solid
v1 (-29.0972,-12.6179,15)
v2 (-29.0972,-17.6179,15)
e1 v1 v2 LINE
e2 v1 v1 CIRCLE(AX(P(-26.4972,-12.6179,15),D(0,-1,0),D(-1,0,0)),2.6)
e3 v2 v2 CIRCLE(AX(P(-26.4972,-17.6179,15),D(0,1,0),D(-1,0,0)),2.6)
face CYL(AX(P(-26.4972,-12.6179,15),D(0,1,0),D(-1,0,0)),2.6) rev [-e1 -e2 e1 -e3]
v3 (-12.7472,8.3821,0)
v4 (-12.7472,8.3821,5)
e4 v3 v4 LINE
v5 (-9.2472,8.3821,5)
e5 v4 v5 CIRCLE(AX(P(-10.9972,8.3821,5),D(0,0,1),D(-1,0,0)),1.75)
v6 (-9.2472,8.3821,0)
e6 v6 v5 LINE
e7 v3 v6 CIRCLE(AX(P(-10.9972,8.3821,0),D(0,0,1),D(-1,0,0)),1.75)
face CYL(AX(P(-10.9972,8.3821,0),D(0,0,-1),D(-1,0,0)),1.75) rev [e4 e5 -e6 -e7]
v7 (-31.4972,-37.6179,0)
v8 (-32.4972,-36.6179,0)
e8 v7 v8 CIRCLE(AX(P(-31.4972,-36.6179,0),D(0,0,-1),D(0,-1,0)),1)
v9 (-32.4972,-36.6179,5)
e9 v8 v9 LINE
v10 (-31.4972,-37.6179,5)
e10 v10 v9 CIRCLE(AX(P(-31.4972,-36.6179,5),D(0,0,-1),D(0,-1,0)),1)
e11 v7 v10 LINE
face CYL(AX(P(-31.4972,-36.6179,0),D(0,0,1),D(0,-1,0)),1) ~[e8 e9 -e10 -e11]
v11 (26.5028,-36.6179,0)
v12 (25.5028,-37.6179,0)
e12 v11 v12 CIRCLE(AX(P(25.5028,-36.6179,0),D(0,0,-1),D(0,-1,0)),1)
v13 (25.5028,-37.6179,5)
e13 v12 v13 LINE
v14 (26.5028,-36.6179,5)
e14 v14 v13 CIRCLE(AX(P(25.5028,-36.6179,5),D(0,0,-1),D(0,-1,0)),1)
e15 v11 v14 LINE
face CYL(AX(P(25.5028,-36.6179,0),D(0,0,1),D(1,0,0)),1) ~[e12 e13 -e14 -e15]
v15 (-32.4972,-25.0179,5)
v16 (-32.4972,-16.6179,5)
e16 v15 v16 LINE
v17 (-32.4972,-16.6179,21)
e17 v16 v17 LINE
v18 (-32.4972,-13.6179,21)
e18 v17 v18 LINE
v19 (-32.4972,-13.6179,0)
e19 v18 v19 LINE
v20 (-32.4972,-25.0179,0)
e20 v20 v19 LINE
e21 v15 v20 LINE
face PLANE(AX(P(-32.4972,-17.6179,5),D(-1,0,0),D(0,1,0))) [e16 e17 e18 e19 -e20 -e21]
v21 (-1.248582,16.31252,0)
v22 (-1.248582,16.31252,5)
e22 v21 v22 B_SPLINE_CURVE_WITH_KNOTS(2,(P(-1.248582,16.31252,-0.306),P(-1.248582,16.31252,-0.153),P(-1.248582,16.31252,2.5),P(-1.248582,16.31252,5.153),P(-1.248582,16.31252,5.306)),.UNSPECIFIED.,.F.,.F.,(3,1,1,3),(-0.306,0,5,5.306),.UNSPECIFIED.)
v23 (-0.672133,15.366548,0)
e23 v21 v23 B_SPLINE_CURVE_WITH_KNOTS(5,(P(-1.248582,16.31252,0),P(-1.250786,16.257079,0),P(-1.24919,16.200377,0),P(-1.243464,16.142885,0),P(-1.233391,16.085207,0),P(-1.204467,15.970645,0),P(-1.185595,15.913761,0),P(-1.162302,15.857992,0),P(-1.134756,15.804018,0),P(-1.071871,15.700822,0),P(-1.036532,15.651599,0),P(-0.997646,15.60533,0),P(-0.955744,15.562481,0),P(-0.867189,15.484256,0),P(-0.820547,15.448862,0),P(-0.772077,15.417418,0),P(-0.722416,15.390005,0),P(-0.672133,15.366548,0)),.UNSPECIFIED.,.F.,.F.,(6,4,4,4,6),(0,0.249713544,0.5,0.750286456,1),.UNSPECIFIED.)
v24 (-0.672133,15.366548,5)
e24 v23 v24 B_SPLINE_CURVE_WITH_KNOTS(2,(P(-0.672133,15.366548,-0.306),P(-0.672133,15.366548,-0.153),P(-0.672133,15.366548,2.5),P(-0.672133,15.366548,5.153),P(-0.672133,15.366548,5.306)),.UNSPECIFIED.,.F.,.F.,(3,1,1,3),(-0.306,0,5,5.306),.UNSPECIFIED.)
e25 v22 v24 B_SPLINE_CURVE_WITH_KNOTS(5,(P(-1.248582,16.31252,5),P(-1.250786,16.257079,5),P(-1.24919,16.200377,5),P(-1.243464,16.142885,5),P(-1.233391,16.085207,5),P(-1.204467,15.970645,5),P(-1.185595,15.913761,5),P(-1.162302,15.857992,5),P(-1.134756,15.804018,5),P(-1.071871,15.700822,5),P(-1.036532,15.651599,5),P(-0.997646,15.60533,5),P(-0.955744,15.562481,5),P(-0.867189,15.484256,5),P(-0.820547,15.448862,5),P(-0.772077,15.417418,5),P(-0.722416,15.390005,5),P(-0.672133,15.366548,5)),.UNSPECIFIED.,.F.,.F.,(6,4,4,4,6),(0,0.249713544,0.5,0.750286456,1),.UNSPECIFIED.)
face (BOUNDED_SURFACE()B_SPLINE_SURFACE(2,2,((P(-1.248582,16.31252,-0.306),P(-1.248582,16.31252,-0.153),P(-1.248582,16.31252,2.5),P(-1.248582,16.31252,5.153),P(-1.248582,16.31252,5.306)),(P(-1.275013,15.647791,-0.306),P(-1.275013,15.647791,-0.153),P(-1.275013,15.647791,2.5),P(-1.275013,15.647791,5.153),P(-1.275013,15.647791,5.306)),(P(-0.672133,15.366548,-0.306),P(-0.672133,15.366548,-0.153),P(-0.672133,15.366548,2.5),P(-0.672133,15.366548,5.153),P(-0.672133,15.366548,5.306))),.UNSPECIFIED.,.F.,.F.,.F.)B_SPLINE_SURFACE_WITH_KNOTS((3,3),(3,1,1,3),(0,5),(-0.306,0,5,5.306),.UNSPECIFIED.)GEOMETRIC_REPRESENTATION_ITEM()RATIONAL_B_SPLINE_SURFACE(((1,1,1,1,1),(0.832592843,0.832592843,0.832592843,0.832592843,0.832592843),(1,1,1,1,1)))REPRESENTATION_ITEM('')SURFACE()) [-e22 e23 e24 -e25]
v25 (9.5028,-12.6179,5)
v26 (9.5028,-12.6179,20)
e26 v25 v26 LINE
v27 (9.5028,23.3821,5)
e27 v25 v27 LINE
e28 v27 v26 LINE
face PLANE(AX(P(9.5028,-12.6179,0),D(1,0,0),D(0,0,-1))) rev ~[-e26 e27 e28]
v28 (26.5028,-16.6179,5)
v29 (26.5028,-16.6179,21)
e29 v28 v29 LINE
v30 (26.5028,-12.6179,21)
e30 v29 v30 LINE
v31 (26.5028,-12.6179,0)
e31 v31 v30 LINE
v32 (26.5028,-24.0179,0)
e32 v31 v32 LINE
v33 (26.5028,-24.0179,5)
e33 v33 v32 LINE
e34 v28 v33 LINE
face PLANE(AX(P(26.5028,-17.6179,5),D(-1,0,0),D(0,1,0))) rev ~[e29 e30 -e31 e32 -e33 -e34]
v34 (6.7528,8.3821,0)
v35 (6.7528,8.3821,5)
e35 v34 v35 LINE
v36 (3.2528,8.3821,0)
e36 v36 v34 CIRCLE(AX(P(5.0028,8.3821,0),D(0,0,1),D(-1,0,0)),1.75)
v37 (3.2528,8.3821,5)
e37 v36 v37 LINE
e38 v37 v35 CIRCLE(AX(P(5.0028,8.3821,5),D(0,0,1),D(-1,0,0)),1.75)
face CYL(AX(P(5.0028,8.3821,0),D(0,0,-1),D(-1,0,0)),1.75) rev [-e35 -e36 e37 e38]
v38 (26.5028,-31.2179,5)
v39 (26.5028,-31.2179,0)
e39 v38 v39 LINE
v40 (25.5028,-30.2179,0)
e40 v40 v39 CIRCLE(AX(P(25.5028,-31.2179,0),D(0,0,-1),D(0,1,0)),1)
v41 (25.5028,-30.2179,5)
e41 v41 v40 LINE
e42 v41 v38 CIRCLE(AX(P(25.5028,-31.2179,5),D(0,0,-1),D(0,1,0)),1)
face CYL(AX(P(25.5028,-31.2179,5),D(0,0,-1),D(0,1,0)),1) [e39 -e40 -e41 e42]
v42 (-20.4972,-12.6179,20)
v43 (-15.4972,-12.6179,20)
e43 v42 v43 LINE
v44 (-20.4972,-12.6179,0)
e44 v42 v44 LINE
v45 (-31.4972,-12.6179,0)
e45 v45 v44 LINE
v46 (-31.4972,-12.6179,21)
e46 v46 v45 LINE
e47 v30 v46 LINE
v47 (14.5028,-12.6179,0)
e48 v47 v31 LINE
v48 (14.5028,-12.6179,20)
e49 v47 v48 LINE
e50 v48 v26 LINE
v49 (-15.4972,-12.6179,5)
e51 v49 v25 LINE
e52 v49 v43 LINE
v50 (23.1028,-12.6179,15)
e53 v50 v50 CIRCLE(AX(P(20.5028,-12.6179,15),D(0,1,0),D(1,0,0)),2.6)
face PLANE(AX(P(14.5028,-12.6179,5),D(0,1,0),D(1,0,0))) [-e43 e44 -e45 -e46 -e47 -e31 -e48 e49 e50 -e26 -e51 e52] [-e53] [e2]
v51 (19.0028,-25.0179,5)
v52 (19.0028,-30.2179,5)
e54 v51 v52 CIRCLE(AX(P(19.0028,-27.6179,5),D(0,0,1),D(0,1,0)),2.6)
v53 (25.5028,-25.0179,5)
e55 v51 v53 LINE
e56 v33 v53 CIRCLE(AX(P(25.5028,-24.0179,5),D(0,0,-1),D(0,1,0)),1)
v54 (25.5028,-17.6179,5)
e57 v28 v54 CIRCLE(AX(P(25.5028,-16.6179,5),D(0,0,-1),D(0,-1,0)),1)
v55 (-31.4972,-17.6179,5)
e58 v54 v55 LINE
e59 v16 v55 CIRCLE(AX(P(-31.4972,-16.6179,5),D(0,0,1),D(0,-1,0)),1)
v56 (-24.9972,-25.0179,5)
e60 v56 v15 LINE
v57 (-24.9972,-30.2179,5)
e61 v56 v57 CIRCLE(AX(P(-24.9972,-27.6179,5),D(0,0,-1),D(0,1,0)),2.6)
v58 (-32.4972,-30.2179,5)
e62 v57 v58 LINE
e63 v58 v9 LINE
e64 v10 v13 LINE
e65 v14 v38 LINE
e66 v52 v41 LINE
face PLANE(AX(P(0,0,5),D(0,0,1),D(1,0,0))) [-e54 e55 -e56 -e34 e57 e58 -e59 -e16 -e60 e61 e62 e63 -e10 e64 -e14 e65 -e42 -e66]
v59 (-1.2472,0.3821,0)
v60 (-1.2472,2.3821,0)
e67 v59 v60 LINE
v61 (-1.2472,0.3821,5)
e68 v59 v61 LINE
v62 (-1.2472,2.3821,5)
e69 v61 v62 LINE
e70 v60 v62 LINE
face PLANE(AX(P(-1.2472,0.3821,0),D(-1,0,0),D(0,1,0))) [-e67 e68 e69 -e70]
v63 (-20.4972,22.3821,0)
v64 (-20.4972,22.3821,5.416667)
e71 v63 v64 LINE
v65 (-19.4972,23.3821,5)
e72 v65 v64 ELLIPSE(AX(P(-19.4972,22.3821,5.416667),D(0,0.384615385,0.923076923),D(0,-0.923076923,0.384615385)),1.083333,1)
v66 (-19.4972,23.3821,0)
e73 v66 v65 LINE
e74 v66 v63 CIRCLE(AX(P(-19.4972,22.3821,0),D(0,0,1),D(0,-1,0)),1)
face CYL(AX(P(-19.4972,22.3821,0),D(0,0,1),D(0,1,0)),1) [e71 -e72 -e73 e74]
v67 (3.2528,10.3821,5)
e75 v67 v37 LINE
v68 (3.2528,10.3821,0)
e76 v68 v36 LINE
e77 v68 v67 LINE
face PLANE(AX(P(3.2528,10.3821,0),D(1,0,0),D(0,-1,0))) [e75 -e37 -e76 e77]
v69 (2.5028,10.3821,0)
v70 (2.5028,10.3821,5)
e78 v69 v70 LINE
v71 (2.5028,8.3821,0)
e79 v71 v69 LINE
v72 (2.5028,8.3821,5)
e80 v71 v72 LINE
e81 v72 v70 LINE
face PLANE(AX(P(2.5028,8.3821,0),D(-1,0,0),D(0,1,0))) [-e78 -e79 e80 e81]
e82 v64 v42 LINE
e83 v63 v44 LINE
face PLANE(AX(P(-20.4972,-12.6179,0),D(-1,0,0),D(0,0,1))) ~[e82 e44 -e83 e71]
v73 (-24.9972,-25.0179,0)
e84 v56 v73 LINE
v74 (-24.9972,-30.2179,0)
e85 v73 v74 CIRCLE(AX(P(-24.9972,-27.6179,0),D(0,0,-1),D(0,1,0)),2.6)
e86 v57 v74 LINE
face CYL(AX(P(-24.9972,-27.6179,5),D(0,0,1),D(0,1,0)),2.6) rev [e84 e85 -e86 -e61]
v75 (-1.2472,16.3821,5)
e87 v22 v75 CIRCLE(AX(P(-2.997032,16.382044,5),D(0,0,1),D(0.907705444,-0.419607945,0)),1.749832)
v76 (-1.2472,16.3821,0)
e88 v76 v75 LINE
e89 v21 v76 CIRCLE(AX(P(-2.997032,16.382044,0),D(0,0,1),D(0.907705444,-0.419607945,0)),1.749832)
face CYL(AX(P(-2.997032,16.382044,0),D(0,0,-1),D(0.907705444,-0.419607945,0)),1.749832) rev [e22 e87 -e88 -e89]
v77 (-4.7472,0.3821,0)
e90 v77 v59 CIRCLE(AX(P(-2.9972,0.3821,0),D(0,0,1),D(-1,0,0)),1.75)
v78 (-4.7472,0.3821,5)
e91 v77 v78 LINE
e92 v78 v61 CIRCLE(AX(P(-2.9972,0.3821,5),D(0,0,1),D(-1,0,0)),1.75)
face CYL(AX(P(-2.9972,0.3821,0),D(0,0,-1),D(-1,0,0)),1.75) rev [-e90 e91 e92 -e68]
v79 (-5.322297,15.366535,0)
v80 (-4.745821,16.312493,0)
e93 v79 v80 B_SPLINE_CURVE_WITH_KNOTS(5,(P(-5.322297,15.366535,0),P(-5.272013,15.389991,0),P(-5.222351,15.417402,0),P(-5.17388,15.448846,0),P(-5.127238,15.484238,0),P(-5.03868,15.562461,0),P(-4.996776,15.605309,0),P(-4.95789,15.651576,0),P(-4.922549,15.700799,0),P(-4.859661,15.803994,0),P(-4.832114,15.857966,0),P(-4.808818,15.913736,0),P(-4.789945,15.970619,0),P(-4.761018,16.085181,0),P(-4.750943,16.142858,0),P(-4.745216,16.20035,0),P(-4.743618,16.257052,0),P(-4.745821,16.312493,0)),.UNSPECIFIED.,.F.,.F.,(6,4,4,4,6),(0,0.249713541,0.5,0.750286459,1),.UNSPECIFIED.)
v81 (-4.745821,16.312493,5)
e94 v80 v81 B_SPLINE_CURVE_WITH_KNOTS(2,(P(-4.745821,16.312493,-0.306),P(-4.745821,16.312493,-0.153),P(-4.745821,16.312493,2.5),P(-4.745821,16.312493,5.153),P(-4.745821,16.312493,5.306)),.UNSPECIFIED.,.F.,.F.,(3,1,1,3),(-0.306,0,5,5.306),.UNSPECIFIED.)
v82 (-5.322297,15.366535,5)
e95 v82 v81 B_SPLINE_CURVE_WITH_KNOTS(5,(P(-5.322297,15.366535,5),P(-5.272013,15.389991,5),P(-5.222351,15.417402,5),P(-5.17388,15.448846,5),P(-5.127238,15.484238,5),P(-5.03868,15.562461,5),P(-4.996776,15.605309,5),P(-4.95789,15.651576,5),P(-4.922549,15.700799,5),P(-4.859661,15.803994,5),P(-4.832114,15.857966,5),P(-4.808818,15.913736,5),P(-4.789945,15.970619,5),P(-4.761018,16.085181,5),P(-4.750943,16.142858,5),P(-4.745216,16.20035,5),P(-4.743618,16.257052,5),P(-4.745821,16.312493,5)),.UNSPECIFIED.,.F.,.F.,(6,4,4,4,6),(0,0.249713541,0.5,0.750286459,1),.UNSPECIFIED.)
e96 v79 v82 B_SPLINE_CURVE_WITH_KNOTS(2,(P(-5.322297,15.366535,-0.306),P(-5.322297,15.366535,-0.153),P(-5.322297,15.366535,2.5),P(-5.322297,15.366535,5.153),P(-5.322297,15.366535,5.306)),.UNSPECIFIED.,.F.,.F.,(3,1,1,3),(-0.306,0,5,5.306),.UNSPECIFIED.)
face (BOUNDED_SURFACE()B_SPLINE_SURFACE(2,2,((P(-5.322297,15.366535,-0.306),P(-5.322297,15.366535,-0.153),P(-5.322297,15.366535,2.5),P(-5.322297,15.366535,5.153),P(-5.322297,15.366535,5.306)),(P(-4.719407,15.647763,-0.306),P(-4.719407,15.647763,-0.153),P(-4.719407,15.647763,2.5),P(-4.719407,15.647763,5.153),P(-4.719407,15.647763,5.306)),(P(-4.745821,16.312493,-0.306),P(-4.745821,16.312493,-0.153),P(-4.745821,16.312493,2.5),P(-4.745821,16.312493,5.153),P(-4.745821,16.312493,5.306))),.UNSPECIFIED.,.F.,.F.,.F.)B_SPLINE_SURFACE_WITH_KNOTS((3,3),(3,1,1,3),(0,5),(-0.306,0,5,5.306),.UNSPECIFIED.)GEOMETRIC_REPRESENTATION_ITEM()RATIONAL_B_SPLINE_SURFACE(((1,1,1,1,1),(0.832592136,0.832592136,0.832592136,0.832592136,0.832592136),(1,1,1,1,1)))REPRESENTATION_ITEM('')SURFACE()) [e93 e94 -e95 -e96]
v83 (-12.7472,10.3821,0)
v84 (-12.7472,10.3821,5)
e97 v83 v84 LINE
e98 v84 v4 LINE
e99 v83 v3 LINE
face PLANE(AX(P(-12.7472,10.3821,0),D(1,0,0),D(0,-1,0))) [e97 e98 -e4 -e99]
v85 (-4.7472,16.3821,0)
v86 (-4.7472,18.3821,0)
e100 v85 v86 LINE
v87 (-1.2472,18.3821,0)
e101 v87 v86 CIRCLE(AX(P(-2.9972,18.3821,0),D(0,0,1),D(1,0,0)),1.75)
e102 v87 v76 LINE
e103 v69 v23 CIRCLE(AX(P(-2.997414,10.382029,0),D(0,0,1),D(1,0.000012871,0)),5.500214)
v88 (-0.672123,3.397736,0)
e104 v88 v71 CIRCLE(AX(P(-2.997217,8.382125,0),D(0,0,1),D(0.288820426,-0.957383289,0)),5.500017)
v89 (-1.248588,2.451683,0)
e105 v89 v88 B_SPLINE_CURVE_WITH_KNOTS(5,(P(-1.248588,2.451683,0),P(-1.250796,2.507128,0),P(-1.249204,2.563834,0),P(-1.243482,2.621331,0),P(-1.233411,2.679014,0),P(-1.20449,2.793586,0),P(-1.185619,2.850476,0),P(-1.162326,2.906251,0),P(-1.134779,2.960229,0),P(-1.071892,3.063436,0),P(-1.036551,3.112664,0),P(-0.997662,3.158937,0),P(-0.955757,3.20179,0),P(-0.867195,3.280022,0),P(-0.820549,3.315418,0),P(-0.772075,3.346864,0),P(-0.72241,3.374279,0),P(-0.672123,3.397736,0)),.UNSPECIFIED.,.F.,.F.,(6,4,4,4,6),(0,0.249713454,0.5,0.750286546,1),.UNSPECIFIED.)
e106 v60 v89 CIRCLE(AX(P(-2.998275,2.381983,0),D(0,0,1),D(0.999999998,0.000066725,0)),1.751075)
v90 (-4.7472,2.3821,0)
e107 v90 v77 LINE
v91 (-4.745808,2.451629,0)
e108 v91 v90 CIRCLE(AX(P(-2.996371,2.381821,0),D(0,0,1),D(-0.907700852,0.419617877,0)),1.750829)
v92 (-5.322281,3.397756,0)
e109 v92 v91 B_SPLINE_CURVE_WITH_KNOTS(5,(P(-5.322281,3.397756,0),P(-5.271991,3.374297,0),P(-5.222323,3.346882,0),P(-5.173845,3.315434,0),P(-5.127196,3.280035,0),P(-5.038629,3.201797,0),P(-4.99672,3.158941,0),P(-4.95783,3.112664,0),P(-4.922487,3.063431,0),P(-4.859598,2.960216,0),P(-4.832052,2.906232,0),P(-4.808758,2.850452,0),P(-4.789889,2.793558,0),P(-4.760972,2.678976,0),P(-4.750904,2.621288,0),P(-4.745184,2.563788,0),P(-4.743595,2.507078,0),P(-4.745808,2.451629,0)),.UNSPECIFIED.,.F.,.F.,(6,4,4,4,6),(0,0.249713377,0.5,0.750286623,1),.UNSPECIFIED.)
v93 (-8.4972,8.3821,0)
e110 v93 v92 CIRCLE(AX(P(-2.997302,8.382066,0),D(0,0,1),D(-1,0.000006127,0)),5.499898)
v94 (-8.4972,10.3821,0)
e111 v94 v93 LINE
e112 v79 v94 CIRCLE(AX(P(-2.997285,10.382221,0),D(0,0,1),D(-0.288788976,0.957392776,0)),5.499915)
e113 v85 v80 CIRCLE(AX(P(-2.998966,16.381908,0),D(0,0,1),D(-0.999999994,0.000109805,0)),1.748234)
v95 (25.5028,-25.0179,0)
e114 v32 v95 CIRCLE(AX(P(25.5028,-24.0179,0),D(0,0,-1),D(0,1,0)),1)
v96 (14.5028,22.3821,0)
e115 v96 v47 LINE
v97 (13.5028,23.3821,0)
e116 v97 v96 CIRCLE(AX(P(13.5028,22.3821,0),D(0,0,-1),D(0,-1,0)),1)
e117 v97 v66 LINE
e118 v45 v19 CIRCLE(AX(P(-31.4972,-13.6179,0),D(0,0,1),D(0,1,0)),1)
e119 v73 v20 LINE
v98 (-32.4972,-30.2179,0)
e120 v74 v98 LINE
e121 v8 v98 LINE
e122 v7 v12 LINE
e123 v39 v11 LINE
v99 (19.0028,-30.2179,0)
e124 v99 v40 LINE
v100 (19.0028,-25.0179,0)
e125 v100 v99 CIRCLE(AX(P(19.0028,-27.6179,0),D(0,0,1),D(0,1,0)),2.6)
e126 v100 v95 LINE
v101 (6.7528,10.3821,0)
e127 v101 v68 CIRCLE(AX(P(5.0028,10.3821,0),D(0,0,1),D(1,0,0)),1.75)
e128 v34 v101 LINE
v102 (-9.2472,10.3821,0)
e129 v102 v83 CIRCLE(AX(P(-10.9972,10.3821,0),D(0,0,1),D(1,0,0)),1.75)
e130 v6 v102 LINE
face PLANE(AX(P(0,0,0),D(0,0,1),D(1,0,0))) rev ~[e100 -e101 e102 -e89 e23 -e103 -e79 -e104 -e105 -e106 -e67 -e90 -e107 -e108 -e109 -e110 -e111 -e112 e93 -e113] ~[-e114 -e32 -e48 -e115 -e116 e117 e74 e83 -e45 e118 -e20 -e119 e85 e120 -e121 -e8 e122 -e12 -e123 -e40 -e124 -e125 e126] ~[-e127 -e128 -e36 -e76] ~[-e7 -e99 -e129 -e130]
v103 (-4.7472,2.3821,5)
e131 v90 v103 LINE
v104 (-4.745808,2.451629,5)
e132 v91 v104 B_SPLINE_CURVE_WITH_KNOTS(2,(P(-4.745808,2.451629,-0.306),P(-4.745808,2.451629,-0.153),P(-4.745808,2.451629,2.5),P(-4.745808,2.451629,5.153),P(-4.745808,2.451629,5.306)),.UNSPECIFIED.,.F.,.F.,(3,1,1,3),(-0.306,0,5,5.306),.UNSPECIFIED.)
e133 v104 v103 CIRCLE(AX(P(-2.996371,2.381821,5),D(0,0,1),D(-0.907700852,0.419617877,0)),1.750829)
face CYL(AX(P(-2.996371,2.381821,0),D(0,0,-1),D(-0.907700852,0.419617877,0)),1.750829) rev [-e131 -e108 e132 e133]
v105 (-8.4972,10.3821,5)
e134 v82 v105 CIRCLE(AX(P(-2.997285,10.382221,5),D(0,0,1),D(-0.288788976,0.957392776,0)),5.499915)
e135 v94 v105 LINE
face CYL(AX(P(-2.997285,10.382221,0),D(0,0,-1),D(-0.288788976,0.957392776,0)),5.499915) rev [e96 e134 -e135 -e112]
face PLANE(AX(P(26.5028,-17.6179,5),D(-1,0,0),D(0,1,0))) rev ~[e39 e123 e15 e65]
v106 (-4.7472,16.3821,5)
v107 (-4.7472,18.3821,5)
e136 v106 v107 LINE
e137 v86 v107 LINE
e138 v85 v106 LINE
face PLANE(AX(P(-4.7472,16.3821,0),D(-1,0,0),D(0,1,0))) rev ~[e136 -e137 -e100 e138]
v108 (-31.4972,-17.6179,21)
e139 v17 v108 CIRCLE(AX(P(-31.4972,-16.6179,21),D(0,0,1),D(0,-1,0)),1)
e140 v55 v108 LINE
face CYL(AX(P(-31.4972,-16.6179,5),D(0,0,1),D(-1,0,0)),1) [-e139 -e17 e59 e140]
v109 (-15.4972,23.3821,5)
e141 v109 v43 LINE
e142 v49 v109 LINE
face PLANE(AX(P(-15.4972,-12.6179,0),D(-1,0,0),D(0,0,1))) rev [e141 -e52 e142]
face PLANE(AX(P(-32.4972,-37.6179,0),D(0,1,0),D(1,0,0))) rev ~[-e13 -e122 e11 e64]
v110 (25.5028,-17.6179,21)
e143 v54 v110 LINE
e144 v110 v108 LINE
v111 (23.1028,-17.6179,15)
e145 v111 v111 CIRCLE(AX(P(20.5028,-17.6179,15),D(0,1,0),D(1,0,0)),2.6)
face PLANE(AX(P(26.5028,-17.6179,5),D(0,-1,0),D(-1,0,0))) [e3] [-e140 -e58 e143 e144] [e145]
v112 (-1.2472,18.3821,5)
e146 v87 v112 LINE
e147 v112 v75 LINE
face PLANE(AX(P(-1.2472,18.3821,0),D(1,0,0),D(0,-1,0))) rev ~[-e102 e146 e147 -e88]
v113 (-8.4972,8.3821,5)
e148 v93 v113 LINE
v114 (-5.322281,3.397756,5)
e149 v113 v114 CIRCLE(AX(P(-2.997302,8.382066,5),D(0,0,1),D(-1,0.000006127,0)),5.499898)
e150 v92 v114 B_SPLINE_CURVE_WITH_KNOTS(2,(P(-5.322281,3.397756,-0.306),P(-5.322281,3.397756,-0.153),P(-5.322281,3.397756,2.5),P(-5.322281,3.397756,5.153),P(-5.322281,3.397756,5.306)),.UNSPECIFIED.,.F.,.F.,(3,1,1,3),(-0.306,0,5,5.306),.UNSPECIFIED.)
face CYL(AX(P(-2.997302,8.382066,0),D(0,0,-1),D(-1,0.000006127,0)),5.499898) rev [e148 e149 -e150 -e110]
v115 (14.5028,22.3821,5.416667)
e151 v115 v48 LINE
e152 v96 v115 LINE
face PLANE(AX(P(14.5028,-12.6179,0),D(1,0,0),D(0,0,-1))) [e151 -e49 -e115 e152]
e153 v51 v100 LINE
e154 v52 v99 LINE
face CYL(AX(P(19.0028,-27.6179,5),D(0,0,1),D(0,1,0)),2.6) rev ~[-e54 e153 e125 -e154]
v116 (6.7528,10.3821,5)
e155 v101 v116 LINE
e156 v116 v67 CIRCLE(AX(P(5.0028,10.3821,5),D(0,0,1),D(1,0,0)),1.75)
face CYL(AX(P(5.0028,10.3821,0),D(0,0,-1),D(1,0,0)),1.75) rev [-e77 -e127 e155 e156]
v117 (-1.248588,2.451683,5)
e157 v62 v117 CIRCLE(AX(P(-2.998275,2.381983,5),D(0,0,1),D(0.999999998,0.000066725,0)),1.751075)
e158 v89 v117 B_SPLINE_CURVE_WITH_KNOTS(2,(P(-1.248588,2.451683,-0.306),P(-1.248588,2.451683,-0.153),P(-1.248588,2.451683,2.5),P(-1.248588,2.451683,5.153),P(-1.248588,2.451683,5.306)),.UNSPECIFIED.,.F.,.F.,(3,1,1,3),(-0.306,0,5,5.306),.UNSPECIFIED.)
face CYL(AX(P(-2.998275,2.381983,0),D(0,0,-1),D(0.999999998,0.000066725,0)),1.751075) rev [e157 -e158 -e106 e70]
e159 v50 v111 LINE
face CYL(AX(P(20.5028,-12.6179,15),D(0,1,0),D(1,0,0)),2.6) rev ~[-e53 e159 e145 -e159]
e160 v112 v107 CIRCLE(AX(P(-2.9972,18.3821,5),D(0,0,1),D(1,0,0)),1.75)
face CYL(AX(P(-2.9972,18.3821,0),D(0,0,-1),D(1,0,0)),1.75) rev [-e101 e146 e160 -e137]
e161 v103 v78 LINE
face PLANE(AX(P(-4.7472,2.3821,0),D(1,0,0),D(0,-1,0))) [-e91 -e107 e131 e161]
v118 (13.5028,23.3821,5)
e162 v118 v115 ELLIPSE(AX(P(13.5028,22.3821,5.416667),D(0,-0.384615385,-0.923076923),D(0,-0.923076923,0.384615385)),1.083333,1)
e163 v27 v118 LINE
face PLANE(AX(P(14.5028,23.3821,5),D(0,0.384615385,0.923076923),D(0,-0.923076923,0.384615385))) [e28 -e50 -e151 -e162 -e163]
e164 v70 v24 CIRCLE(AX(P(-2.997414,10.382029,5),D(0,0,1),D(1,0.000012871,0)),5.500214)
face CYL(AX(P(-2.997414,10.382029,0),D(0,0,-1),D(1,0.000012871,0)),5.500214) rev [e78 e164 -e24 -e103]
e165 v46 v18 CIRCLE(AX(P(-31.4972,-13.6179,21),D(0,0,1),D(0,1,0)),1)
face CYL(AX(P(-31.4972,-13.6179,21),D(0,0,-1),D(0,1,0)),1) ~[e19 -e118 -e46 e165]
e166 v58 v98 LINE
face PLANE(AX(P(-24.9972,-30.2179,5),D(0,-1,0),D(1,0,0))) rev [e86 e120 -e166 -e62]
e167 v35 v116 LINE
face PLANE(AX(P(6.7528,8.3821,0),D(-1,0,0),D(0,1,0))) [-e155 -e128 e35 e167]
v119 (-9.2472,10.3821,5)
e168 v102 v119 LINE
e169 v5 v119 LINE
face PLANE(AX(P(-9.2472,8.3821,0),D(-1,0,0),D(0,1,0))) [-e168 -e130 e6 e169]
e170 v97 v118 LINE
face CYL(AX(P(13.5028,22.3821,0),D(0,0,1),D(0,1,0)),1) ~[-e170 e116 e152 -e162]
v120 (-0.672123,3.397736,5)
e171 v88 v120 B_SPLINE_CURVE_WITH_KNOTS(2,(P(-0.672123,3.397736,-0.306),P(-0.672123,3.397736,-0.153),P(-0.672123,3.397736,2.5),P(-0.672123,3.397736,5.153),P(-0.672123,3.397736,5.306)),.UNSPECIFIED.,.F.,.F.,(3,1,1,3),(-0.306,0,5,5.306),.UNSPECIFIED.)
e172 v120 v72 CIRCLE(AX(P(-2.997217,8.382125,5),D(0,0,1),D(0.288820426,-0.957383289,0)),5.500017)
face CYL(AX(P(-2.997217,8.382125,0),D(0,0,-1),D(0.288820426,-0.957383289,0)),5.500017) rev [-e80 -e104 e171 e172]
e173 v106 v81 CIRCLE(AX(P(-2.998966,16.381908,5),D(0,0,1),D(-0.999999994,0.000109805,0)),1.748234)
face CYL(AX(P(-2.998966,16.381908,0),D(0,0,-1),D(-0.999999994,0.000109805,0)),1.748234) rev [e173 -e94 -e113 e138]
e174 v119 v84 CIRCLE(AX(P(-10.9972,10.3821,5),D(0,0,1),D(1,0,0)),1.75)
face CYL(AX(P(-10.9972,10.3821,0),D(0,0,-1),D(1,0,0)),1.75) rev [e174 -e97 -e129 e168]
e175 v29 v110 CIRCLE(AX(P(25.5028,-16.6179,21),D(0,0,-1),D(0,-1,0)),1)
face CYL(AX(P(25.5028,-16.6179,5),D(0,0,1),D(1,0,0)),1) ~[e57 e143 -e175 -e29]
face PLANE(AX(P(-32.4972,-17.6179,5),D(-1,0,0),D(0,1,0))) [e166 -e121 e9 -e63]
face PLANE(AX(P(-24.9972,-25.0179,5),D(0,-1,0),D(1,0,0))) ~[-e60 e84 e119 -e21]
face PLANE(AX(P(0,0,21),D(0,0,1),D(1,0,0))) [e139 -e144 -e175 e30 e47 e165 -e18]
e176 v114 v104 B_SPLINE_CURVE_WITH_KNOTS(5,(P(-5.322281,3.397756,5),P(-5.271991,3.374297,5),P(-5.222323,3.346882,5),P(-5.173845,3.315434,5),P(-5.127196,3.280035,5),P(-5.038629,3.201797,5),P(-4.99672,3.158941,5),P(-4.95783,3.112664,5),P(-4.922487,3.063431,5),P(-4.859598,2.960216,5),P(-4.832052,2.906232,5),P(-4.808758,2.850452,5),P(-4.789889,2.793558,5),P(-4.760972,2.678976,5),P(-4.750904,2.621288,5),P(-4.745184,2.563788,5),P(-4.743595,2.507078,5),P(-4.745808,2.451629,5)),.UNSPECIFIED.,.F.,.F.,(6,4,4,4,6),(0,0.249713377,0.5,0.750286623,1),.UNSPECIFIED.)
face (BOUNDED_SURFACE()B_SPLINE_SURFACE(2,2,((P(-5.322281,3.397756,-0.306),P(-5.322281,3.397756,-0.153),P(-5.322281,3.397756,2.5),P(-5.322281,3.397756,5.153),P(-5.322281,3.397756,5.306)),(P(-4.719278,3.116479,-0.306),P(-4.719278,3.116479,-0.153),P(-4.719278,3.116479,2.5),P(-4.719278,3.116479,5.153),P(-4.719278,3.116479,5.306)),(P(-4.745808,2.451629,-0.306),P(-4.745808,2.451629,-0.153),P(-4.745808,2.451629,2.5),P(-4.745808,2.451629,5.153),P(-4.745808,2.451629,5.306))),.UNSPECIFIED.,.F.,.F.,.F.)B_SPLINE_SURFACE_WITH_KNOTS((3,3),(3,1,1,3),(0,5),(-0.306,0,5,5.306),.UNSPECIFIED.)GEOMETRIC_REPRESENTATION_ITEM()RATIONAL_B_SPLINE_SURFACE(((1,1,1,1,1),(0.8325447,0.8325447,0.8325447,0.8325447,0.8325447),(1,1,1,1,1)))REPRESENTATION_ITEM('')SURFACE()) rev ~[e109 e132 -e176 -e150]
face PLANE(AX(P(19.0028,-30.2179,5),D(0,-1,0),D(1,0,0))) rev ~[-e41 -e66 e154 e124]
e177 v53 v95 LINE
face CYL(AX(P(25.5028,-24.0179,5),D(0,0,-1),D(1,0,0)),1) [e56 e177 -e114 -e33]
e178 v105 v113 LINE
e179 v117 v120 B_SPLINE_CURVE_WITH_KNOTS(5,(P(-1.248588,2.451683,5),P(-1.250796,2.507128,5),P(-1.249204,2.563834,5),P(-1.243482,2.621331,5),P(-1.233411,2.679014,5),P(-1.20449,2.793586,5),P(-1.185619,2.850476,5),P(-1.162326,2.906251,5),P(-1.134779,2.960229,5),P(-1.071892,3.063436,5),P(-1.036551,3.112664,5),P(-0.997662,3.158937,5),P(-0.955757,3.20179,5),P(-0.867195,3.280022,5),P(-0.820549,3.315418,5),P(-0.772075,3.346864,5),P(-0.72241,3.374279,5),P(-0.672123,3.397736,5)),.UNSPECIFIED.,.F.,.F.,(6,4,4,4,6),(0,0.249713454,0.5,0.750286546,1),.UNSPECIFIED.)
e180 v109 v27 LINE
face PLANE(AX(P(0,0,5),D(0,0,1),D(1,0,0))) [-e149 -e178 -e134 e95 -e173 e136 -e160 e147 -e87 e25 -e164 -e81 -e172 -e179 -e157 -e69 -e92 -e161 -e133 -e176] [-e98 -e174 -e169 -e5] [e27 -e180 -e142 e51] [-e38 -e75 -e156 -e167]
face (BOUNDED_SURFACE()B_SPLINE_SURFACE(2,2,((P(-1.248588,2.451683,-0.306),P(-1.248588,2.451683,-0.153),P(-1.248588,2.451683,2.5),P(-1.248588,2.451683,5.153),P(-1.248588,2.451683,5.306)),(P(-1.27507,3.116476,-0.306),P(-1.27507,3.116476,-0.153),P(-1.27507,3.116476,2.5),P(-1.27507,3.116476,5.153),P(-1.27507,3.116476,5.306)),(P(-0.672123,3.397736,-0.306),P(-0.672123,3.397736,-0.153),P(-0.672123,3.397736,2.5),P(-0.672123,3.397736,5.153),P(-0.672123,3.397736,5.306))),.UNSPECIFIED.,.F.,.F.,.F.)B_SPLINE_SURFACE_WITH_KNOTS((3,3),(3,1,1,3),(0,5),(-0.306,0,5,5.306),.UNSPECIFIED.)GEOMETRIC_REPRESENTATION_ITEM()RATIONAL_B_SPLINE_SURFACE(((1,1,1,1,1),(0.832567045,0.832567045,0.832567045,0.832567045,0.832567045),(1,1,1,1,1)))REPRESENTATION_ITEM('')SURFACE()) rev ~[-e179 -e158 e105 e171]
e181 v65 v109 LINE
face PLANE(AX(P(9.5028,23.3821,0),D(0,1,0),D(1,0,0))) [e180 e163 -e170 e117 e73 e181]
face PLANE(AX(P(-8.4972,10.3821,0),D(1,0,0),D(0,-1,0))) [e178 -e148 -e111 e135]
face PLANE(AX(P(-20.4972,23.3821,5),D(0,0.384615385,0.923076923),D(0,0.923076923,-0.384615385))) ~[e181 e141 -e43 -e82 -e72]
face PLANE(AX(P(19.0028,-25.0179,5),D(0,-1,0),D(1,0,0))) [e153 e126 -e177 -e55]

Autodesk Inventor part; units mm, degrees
ref_plane "YZ Plane" through (0, 0, 0) normal (1, 0, 0) x (0, 1, 0)
ref_plane "XZ Plane" through (0, 0, 0) normal (0, 1, 0) x (-1, 0, 0)
sketch "Sketch1" plane through (0, 0, 0) normal (0, 0, 1) x (1, 0, 0)
  line L0 (9.5028, 23.3821) -> (9.5028, -12.6179)
  line L1 (14.5028, 23.3821) -> (14.5028, -12.6179)
  line L2 (26.5028, -12.6179) -> (26.5028, -37.6179)
  line L3 (-32.4972, -17.6179) -> (26.5028, -17.6179)
  line L4 (-32.4972, -12.6179) -> (-20.4972, -12.6179)
  line L5 (-15.4972, -12.6179) -> (9.5028, -12.6179)
  line L6 (14.5028, -12.6179) -> (26.5028, -12.6179)
  line L7 (-20.4972, 23.3821) -> (14.5028, 23.3821)
  line L8 (-15.4972, 23.3821) -> (-15.4972, -12.6179)
  line L9 (-20.4972, 23.3821) -> (-20.4972, -12.6179)
  line L10 (-32.4972, -37.6179) -> (26.5028, -37.6179)
  line L11 (-32.4972, -12.6179) -> (-32.4972, -37.6179)
  line L12 (-2.9972, 1.3821) -> (-2.9972, 17.3821) construction
  line L13 (5.0028, 9.3821) -> (-10.9972, 9.3821) construction
  circle A0 centre (-2.9972, 9.3821) radius 8 construction
  line L14 (-2.9972, 10.3821) -> (-2.9972, 8.3821) construction
  line L15 (-8.4972, 10.3821) -> (-8.4972, 8.3821)
  line L16 (2.5028, 8.3821) -> (2.5028, 10.3821)
  line L17 (-2.9972, 2.3821) -> (-2.9972, 0.3821) construction
  line L18 (-4.7472, 2.3821) -> (-4.7472, 0.3821)
  line L19 (-1.2472, 0.3821) -> (-1.2472, 2.3821)
  arc A1 (-4.7472, 0.3821) -> (-1.2472, 0.3821) centre (-2.9972, 0.3821) ccw
  line L20 (-10.9972, 10.3821) -> (-10.9972, 8.3821) construction
  line L21 (-12.7472, 10.3821) -> (-12.7472, 8.3821)
  line L22 (-9.2472, 8.3821) -> (-9.2472, 10.3821)
  arc A2 (-9.2472, 10.3821) -> (-12.7472, 10.3821) centre (-10.9972, 10.3821) ccw
  arc A3 (-12.7472, 8.3821) -> (-9.2472, 8.3821) centre (-10.9972, 8.3821) ccw
  line L23 (5.0028, 10.3821) -> (5.0028, 8.3821) construction
  line L24 (3.2528, 10.3821) -> (3.2528, 8.3821)
  line L25 (6.7528, 8.3821) -> (6.7528, 10.3821)
  arc A4 (6.7528, 10.3821) -> (3.2528, 10.3821) centre (5.0028, 10.3821) ccw
  arc A5 (3.2528, 8.3821) -> (6.7528, 8.3821) centre (5.0028, 8.3821) ccw
  line L26 (-2.9972, 18.3821) -> (-2.9972, 16.3821) construction
  line L27 (-1.2472, 18.3821) -> (-1.2472, 16.3821)
  line L28 (-4.7472, 16.3821) -> (-4.7472, 18.3821)
  arc A6 (-1.2472, 18.3821) -> (-4.7472, 18.3821) centre (-2.9972, 18.3821) ccw
  arc A7 (-1.2472, 2.3821) -> (-1.4087, 3.1165) centre (-2.9972, 2.3821) ccw
  arc A8 (-4.5856, 3.1165) -> (-4.7472, 2.3821) centre (-2.9972, 2.3821) ccw
  arc A9 (-8.4972, 8.3821) -> (-4.5856, 3.1165) centre (-2.9972, 8.3821) ccw
  arc A10 (-1.4087, 3.1165) -> (2.5028, 8.3821) centre (-2.9972, 8.3821) ccw
  arc A11 (-4.7472, 16.3821) -> (-4.5856, 15.6478) centre (-2.9972, 16.3821) ccw
  arc A12 (-1.4087, 15.6478) -> (-1.2472, 16.3821) centre (-2.9972, 16.3821) ccw
  arc A13 (2.5028, 10.3821) -> (-1.4087, 15.6478) centre (-2.9972, 10.3821) ccw
  arc A14 (-4.5856, 15.6478) -> (-8.4972, 10.3821) centre (-2.9972, 10.3821) ccw
  point P0 (0, 0)
  point P1 (14.5028, 29.202)
  point P2 (-20.4972, 29.202)
  dimension "d51" = 16
  dimension "d52" = 5
  dimension "d53" = 5
  dimension "d54" = 25
  dimension "d55" = 5
  dimension "d56" = 20
  dimension "d58" = 27
  dimension "d59" = 14
  dimension "d60" = 12
  dimension "d61" = 12
  dimension "d64" = 12.5
  dimension "d66" = 2
  dimension "d67" = 3.5
  dimension "d68" = 2
  dimension "d69" = 3.5
  dimension "d70" = 2
  dimension "d71" = 3.5
  dimension "d72" = 2
  dimension "d73" = 3.5
  dimension "d74" = 2
extrude "Extrusion1" add sketch "Sketch1" along normal blind 5
sketch "Sketch2" plane through (0, 0, 5) normal (0, 0, 1) x (1, 0, 0)
  line L0 (26.5028, -37.6179) -> (26.5028, -12.6179) projected
  line L1 (-32.4972, -12.6179) -> (26.5028, -12.6179)
  line L2 (26.5028, -12.6179) -> (26.5028, -17.6179)
  line L3 (26.5028, -17.6179) -> (-32.4972, -17.6179)
  line L4 (-32.4972, -17.6179) -> (-32.4972, -12.6179)
  line L5 (-32.4972, -12.6179) -> (-32.4972, -37.6179) projected
  line L6 (26.5028, -12.6179) -> (14.5028, -12.6179) projected
  point P0 (0, 0)
  dimension "d30" = 5
extrude "Extrusion2" add sketch "Sketch2" along normal blind 16
sketch "Sketch3" plane through (14.5028, -12.6179, 0) normal (1, 0, 0) x (0, 0, -1)
  line L0 (0, 0) -> (-21, 0) projected
  line L1 (-5, 0) -> (-5, 36) projected
  line L2 (-21, 0) -> (-5, 0)
  line L3 (-5, 36) -> (-20, 0)
  point P0 (0, 12.6179)
  point P1 (-5, 31)
  dimension "d77" = 15
extrude "Extrusion3" add sketch "Sketch3" against normal blind 5
sketch "Sketch4" plane through (14.5028, -12.6179, 0) normal (0, 1, 0) x (1, 0, 0)
  circle A0 centre (6, -15) radius 2.6
  line L0 (12, 0) -> (12, -21) projected
  line L1 (12, -21) -> (-47, -21) projected
  point P0 (-14.5028, 0)
  point P1 (0, -25)
  dimension "d36" = 5.2
  dimension "d37" = 6
  dimension "d38" = 6
extrude "Extrusion4" cut sketch "Sketch4" against normal through all
sketch "Sketch5" plane through (0, 0, 5) normal (0, 0, 1) x (1, 0, 0)
  arc A0 (19.0028, -25.0179) -> (19.0028, -30.2179) centre (19.0028, -27.6179) ccw
  line L0 (26.5028, -37.6179) -> (26.5028, -17.6179) projected
  line L1 (-32.4972, -37.6179) -> (26.5028, -37.6179) projected
  line L2 (19.0028, -25.0179) -> (26.5028, -25.0179)
  line L3 (19.0028, -30.2179) -> (26.5028, -30.2179)
  line L4 (26.5028, -37.6179) -> (26.5028, -12.6179) projected
  line L5 (26.5028, -25.0179) -> (26.5028, -30.2179)
  point P0 (0, 0)
  point P1 (-34.4972, -33.6179)
  point P2 (17.5028, -33.6179)
  dimension "d41" = 7.5
  dimension "d42" = 10
  dimension "d43" = 5.2
extrude "Extrusion5" cut sketch "Sketch5" against normal blind 5
fillet "Fillet1" radius 1 5 edges at (-32.4972, -12.6179, 10.5) (-32.4972, -17.6179, 13) (26.5028, -30.2179, 2.5) (26.5028, -25.0179, 2.5) (26.5028, -17.6179, 13)
ref_plane "Work Plane2" through (-2.9972, 0.3821, 0) normal (1, 0, 0) x (0, 0, 1)
mirror "Mirror2" about plane through (-2.9972, 0.3821, 0) normal (1, 0, 0) of "Extrusion5", "Extrusion4", "Extrusion3"
fillet "Fillet2" radius 1 8 edges at (14.5028, 23.3821, 2.5) (-20.4972, 23.3821, 2.5) (26.5028, -37.6179, 2.5) (-32.4972, -37.6179, 2.5) (-1.4087, 3.1165, 2.5) (-4.5856, 3.1165, 2.5) (-1.4087, 15.6478, 2.5) (-4.5856, 15.6478, 2.5)
ref_plane "Work Plane3" through (-2.9972, -12.6179, 0) normal (-1, 0, 0) x (0, 0, 1)
properties part number "Z Nut Braket 1.0" material "PC/ABS Plastic"
